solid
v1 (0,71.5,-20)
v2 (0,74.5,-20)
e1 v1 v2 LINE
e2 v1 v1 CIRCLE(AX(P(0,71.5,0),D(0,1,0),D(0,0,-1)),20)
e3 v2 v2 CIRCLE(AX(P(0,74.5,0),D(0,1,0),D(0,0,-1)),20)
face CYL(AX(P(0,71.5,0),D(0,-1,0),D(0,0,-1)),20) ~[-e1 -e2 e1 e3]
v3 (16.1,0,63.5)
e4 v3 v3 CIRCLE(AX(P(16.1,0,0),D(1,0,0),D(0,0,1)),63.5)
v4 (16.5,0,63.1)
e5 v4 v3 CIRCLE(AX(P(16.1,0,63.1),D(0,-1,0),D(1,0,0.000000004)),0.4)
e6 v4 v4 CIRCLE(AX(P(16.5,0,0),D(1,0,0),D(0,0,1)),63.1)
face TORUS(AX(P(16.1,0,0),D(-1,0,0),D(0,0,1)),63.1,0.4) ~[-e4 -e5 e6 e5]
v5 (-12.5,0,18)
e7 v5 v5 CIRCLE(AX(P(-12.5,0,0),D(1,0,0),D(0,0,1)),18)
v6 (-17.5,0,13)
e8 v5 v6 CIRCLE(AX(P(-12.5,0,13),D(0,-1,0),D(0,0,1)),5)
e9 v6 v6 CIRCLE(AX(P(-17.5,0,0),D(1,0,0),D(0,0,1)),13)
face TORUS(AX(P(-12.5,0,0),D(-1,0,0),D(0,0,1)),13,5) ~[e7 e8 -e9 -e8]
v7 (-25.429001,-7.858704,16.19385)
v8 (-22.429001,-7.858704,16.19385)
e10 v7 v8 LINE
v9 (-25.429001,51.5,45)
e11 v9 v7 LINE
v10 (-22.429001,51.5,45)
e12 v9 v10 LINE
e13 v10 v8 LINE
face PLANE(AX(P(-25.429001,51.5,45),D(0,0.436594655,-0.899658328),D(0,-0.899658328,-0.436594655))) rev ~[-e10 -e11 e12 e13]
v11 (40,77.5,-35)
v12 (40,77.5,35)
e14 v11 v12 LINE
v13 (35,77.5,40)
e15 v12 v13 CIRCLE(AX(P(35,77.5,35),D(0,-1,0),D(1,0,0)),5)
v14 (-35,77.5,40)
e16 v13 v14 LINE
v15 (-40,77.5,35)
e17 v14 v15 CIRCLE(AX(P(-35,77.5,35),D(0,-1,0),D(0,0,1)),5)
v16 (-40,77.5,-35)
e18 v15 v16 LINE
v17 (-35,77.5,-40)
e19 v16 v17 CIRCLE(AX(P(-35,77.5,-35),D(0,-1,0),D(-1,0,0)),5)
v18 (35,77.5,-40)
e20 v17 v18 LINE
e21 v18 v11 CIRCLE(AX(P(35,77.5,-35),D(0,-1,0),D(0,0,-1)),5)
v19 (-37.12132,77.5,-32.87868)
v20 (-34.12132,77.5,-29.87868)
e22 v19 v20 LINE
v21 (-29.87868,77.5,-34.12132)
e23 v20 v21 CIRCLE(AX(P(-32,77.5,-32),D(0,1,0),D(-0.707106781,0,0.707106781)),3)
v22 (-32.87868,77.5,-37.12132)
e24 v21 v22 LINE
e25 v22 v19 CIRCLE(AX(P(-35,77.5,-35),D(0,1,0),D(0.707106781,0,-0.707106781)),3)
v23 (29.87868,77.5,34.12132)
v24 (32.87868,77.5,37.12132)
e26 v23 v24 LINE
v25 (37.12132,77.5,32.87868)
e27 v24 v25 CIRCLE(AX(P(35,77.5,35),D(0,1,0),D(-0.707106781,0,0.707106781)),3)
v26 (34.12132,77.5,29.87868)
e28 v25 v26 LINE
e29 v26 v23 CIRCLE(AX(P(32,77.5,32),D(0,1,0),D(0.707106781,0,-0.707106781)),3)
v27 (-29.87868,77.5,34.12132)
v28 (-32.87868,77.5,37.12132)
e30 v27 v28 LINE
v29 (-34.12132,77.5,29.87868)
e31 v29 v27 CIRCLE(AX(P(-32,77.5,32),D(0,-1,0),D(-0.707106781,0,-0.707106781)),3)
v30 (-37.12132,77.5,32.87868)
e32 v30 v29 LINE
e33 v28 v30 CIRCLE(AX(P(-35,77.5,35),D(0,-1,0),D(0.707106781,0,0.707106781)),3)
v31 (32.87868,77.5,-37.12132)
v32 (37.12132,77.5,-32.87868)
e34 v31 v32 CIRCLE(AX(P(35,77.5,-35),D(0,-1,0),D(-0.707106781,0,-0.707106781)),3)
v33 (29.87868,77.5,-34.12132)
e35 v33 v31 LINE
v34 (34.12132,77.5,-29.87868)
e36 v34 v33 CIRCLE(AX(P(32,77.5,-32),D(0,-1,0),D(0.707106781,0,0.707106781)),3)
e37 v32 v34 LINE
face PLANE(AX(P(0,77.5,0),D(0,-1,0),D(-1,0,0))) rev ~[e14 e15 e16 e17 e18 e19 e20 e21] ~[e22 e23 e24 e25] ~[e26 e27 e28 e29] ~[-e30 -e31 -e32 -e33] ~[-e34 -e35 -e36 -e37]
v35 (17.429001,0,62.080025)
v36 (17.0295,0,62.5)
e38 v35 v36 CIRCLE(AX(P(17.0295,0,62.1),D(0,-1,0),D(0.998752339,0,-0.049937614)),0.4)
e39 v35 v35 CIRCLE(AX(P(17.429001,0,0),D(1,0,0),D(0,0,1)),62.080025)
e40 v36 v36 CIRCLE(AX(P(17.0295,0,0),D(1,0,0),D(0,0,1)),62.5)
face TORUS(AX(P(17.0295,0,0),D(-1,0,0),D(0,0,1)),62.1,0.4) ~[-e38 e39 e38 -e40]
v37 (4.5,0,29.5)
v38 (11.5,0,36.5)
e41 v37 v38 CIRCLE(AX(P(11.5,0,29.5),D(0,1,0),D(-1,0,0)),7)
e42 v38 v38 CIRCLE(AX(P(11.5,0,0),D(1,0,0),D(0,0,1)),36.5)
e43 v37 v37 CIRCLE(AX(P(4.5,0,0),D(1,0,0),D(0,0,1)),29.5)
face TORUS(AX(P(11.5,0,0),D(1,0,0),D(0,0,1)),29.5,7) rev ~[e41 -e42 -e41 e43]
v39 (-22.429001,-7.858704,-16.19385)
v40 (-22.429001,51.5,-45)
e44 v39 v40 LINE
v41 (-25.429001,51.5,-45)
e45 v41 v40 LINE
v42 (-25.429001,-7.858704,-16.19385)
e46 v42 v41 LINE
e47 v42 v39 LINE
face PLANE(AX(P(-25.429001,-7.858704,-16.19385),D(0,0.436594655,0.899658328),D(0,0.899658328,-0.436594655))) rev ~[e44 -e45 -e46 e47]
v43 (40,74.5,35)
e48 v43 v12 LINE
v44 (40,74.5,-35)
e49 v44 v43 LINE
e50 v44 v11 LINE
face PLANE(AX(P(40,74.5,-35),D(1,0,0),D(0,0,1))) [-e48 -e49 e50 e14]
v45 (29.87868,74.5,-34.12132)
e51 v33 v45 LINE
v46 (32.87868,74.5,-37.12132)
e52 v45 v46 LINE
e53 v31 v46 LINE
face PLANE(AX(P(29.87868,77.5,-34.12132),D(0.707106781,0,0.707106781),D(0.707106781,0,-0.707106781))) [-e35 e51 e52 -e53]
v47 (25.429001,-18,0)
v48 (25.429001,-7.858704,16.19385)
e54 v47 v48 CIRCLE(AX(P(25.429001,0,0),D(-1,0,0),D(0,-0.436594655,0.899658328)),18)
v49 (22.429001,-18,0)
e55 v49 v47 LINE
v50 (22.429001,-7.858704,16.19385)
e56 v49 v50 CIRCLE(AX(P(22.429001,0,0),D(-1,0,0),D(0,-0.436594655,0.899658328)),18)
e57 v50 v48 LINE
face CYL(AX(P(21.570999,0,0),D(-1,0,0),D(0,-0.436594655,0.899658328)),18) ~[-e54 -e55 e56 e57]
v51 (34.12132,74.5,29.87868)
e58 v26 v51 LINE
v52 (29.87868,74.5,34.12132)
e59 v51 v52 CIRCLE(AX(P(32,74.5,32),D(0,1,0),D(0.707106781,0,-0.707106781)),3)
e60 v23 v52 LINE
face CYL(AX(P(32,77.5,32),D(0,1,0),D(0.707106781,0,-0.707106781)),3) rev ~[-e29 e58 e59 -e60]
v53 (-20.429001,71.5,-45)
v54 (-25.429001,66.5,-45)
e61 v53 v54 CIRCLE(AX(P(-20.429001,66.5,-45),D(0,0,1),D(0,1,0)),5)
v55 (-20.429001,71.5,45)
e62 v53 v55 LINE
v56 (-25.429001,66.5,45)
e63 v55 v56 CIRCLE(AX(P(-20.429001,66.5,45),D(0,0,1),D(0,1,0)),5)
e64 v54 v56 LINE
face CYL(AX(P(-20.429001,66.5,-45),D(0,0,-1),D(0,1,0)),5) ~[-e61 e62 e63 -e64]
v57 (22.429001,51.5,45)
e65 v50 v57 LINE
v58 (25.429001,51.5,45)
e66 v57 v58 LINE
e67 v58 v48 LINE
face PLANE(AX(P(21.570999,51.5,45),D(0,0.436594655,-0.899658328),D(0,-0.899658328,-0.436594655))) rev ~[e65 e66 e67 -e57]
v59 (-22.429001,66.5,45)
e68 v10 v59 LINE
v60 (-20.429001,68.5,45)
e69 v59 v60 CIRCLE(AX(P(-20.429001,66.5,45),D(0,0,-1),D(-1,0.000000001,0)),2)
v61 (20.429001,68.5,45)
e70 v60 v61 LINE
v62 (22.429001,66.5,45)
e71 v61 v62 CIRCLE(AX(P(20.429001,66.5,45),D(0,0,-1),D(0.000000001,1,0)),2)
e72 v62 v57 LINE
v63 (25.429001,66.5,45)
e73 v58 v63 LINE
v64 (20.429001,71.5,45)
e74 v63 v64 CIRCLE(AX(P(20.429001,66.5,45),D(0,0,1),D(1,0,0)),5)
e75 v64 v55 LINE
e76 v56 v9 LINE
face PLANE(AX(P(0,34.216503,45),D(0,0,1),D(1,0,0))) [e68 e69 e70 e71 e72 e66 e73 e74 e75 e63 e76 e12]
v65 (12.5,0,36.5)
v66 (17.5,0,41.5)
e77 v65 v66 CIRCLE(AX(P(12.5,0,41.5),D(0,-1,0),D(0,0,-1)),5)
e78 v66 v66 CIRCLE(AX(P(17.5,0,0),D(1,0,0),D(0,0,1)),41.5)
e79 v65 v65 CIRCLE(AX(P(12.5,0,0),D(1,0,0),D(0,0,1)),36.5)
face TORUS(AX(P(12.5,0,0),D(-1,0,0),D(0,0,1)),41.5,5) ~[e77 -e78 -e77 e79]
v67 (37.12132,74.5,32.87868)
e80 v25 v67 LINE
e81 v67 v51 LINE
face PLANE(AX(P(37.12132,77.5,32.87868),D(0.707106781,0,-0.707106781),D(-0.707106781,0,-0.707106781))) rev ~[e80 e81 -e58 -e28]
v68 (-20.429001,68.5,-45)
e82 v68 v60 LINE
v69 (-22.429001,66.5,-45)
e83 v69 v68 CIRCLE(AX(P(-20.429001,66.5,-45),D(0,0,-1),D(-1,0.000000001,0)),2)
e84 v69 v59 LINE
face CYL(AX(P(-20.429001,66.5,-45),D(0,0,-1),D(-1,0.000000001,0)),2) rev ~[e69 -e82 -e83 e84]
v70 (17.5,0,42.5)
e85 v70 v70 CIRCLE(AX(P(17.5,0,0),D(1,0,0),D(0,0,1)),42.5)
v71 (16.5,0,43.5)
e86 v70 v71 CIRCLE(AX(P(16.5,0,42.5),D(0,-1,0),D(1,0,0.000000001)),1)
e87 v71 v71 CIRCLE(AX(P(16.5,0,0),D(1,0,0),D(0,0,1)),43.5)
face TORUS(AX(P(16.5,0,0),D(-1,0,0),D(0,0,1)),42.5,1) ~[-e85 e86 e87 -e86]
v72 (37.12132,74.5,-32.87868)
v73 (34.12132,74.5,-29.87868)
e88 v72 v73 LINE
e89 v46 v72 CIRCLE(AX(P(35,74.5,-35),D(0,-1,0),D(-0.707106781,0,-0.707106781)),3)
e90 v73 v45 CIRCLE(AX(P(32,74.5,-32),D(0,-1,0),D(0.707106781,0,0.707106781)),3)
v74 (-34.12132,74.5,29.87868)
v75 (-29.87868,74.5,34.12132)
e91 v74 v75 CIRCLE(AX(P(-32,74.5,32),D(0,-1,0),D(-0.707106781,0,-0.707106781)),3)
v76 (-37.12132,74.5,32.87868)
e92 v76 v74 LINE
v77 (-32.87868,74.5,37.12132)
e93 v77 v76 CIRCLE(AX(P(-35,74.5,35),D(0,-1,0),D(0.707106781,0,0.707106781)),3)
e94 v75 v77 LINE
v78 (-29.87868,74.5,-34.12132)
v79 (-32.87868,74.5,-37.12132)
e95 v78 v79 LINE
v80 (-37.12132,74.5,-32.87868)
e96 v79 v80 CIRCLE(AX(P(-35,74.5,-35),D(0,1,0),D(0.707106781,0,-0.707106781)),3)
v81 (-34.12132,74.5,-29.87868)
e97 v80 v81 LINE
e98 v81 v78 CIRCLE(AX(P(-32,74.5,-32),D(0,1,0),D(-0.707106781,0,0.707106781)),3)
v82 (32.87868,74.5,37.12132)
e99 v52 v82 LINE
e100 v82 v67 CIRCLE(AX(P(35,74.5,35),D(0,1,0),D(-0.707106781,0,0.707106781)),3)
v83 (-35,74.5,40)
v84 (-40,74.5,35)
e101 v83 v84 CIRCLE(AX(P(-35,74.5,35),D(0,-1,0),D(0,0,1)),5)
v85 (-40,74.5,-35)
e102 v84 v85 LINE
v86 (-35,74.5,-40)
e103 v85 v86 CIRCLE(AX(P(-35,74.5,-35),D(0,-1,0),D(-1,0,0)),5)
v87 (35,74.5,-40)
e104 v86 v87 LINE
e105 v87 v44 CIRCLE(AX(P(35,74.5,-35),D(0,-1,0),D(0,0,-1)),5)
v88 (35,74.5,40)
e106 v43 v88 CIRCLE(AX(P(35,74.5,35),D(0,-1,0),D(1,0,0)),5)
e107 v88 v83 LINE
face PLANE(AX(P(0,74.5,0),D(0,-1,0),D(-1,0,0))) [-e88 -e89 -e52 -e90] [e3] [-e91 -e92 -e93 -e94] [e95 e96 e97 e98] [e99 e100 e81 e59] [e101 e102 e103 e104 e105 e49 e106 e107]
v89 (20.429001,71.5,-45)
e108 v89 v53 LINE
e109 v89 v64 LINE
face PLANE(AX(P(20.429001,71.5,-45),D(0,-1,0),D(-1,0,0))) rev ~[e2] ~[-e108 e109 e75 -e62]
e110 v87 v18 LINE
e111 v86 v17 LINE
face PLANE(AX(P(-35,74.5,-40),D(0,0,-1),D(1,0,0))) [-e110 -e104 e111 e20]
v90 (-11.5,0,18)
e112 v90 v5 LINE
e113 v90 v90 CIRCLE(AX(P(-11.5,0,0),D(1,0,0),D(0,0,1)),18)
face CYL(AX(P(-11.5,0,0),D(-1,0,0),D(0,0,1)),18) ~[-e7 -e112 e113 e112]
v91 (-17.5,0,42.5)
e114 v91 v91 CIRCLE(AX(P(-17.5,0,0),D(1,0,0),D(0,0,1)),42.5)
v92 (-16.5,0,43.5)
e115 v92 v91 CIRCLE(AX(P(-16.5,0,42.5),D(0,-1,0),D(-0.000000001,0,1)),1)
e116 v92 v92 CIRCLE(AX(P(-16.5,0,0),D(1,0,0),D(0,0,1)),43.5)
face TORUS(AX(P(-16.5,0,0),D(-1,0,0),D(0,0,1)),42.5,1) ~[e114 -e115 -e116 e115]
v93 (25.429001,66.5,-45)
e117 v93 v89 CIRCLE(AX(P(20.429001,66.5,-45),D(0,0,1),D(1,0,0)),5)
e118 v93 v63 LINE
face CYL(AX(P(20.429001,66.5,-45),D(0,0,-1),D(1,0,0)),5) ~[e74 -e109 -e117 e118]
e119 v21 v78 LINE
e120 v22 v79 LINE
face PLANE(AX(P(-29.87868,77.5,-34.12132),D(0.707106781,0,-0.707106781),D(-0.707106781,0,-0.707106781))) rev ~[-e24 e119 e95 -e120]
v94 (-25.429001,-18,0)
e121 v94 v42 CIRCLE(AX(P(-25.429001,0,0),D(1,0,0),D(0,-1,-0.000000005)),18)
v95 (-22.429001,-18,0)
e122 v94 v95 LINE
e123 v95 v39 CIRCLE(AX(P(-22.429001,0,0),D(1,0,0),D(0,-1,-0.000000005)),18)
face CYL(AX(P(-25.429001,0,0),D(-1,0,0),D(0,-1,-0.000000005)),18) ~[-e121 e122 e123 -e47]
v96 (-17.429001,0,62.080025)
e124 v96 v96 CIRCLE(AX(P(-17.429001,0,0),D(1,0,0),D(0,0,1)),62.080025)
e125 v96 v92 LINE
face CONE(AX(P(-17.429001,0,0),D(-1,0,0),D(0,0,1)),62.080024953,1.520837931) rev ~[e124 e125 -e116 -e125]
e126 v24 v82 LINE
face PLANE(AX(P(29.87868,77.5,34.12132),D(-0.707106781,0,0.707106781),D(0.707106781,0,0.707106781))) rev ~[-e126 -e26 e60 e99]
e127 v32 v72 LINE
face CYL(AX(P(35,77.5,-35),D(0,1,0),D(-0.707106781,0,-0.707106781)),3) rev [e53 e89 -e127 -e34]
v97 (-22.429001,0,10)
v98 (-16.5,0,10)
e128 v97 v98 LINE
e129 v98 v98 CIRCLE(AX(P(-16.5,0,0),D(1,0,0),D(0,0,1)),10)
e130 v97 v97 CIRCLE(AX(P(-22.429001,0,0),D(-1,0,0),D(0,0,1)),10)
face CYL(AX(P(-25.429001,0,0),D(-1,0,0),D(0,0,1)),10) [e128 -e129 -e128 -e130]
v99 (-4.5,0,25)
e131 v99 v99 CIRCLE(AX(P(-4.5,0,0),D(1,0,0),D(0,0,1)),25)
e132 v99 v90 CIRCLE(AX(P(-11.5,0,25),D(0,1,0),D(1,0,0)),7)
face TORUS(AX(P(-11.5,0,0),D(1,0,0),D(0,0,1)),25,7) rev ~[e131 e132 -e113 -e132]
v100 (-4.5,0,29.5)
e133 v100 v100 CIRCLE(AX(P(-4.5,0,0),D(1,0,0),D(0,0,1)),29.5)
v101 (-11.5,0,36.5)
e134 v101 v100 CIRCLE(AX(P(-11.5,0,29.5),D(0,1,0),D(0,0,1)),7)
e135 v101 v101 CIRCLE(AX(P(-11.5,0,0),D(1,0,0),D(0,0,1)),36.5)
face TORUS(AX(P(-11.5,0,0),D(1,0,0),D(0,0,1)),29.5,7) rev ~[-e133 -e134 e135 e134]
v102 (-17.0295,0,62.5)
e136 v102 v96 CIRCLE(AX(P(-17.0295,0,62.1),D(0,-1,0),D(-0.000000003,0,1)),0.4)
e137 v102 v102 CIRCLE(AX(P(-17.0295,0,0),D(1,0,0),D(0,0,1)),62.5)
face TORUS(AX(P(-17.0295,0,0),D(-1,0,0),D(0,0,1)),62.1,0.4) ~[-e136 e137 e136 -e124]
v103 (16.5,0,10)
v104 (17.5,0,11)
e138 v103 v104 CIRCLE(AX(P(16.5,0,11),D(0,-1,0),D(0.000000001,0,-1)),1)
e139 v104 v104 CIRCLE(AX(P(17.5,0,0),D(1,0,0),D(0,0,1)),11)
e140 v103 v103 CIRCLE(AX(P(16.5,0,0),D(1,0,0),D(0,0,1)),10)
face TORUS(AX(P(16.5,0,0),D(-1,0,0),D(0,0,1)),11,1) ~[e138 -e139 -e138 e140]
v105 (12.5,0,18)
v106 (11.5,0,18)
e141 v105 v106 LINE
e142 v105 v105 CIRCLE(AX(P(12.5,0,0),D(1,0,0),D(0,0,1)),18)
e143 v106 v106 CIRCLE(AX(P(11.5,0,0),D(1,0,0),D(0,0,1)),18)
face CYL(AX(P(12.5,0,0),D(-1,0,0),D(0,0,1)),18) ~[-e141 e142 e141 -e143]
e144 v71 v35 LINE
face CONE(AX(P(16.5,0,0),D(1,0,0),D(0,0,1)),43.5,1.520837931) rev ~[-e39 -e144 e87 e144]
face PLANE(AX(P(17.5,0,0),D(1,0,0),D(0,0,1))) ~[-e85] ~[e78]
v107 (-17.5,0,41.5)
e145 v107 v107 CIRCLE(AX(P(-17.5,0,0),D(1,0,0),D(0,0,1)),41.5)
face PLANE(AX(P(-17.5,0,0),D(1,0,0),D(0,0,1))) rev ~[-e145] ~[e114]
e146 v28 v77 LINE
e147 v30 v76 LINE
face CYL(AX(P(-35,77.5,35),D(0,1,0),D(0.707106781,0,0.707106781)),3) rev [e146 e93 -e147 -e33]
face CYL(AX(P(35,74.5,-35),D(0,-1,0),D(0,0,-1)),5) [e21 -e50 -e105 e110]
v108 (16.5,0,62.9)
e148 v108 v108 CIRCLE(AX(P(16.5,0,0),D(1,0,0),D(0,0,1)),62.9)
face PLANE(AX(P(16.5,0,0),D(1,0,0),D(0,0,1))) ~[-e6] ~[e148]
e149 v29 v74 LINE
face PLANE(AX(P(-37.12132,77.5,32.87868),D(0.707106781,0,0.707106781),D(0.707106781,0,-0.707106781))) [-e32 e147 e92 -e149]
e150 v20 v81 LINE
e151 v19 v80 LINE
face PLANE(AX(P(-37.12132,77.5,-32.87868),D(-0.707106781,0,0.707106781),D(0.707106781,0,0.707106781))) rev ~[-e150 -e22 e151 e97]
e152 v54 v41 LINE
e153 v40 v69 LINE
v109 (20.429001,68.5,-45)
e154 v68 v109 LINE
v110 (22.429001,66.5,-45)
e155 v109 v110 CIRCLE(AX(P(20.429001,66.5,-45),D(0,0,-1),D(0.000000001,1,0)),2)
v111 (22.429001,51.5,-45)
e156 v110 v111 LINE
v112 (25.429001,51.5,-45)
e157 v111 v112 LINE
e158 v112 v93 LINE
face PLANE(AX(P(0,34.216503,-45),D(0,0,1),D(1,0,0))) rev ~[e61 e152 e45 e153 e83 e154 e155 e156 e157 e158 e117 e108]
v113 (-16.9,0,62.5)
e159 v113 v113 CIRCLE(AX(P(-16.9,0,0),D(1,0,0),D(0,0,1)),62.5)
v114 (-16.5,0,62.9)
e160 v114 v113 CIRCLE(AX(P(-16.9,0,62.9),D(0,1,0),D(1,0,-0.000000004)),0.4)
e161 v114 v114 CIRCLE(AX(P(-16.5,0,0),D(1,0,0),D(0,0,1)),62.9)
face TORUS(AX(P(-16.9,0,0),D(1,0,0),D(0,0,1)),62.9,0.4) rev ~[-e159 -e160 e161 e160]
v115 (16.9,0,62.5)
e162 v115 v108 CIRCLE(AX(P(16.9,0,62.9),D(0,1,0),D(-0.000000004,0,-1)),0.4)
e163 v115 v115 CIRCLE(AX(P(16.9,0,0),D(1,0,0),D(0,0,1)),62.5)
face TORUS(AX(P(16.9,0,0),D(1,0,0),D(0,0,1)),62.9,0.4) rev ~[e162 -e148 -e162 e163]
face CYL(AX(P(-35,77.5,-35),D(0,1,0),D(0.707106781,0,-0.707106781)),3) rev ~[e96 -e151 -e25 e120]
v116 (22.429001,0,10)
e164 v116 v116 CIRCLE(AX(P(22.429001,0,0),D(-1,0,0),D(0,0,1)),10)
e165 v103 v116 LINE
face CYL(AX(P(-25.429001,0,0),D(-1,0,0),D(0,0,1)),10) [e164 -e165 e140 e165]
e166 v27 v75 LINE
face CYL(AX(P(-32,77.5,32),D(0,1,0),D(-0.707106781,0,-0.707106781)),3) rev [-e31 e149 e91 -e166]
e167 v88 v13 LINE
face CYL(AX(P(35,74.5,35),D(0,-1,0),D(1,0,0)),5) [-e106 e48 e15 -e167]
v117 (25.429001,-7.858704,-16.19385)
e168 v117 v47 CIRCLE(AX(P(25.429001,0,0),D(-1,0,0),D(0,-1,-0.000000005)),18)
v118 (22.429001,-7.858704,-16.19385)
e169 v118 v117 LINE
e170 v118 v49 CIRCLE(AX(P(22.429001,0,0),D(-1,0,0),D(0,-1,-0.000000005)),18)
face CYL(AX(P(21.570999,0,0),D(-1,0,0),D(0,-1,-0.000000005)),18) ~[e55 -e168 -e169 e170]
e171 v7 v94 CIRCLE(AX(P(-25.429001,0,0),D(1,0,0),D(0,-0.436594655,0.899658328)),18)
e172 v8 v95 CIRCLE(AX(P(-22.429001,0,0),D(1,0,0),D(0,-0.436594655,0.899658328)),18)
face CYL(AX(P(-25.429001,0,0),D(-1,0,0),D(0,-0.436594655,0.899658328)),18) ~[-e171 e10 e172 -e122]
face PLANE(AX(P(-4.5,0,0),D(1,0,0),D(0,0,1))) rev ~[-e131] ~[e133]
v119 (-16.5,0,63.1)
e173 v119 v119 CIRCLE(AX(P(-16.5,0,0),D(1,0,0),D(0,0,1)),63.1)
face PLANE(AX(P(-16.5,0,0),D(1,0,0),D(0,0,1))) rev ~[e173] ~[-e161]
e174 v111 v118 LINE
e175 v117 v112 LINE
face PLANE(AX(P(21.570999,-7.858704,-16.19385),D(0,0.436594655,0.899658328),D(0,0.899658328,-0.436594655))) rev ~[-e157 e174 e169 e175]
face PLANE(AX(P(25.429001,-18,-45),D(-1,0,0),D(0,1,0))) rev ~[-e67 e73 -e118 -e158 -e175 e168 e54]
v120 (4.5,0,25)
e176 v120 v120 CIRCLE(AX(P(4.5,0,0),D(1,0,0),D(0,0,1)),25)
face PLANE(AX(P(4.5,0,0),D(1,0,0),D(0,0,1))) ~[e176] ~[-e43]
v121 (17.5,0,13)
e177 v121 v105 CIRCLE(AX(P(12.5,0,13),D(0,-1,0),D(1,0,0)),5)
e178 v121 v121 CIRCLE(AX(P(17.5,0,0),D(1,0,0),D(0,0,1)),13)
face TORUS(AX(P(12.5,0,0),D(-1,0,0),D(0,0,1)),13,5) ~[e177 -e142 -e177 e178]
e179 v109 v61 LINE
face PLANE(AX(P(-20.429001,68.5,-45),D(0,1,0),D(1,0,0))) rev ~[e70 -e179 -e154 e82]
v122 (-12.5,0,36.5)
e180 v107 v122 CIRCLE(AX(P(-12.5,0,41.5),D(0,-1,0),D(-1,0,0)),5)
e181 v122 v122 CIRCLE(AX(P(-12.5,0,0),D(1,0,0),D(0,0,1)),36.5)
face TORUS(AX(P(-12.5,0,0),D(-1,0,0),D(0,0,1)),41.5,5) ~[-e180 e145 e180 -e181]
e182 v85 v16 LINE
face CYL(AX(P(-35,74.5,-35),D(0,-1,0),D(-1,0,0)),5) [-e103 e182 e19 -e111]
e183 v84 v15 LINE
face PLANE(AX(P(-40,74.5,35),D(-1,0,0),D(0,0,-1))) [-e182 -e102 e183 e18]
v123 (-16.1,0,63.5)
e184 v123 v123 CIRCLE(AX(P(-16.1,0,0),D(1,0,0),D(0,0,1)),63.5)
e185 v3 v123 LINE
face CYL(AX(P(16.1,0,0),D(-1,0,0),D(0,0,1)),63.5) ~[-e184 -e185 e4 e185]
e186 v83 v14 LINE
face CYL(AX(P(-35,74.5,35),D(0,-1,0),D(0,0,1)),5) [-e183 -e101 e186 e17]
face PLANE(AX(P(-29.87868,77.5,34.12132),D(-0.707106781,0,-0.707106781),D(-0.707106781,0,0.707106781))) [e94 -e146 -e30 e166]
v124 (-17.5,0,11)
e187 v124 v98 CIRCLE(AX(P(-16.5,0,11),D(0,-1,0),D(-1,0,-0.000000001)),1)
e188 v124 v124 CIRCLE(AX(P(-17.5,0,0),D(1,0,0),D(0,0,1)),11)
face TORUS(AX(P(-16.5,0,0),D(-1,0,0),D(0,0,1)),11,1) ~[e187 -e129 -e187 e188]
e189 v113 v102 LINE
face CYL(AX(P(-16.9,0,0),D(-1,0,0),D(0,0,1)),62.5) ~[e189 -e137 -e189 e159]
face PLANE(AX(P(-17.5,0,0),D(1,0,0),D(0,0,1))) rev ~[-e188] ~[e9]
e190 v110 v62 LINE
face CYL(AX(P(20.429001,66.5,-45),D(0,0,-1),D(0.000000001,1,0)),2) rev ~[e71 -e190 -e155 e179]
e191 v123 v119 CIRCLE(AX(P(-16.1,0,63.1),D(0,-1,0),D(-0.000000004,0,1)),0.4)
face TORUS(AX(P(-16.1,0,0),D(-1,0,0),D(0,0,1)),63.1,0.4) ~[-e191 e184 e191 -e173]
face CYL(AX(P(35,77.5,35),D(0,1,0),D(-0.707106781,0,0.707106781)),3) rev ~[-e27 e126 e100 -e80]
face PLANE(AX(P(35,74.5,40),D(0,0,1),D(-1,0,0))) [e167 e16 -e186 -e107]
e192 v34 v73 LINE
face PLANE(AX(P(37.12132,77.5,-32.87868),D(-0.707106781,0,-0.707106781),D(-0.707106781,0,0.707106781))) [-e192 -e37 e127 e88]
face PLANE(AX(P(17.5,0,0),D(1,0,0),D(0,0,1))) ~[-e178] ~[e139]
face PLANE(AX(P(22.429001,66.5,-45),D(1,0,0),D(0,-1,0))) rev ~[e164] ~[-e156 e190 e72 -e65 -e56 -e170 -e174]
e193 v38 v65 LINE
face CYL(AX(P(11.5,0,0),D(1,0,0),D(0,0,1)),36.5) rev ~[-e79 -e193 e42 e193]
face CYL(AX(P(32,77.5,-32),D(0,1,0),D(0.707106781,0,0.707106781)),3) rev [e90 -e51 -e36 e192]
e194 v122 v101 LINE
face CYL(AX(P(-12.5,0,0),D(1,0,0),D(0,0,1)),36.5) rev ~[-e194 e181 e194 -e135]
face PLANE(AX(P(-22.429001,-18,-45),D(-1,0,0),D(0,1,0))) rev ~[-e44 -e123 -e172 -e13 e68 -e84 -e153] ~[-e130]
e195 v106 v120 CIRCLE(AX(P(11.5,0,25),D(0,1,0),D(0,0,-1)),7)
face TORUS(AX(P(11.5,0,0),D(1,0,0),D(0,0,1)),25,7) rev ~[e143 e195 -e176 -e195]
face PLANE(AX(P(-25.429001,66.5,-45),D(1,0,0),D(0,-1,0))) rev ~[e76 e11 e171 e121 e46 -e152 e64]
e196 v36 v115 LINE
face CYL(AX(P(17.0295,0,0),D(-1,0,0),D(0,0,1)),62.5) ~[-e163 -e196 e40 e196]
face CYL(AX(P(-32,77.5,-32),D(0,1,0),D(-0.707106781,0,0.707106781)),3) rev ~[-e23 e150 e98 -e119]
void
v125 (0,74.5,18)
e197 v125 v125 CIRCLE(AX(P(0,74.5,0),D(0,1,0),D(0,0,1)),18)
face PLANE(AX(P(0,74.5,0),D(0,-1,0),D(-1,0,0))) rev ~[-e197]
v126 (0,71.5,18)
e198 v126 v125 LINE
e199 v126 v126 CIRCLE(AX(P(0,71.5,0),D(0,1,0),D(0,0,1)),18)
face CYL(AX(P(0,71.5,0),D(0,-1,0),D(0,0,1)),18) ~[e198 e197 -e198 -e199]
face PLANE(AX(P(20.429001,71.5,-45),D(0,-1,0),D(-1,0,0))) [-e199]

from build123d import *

# Parameters (mm, degrees)
BOSS_EXTRUDE2_START = -45
BOSS_EXTRUDE2_DEPTH = 90
CUT_EXTRUDE1_DEPTH  = 3
CUT_EXTRUDE2_START  = -47
CUT_EXTRUDE2_DEPTH  = 62.30990914
BOSS_EXTRUDE3_REACH = 110.31
SKETCH7_R           = 10
SKETCH8_R           = 20
SKETCH8_R_2         = 18
BOSS_EXTRUDE4_DEPTH = 3
BOSS_EXTRUDE5_DEPTH = 3
CUT_EXTRUDE3_DEPTH  = 3


with BuildPart() as part:
    # Sketch1 → Revolve1 (revolve)
    with BuildSketch(Plane.XY):
        with BuildLine():
            ThreePointArc((-17.5, 11), (-17.207106781, 10.292893219), (-16.5, 10))
            Line((-16.5, 10), (16.5, 10))
            ThreePointArc((16.5, 10), (17.207106781, 10.292893219), (17.5, 11))
            Line((17.5, 11), (17.5, 13))
            ThreePointArc((17.5, 13), (16.035533906, 16.535533906), (12.5, 18))
            Line((12.5, 18), (11.5, 18))
            ThreePointArc((11.5, 18), (6.550252532, 20.050252532), (4.5, 25))
            Line((4.5, 25), (4.5, 29.5))
            ThreePointArc((4.5, 29.5), (6.550252532, 34.449747468), (11.5, 36.5))
            Line((11.5, 36.5), (12.5, 36.5))
            ThreePointArc((12.5, 36.5), (16.035533906, 37.964466094), (17.5, 41.5))
            Line((17.5, 41.5), (17.5, 42.5))
            ThreePointArc((17.5, 42.5), (17.207106781, 43.207106781), (16.5, 43.5))
            Line((16.5, 43.5), (-16.5, 43.5))
            ThreePointArc((-16.5, 43.5), (-17.207106781, 43.207106781), (-17.5, 42.5))
            Line((-17.5, 42.5), (-17.5, 41.5))
            ThreePointArc((-17.5, 41.5), (-16.035533906, 37.964466094), (-12.5, 36.5))
            Line((-12.5, 36.5), (-11.5, 36.5))
            ThreePointArc((-11.5, 36.5), (-6.550252532, 34.449747468), (-4.5, 29.5))
            Line((-4.5, 29.5), (-4.5, 25))
            ThreePointArc((-4.5, 25), (-6.550252532, 20.050252532), (-11.5, 18))
            Line((-11.5, 18), (-12.5, 18))
            ThreePointArc((-12.5, 18), (-16.035533906, 16.535533906), (-17.5, 13))
            Line((-17.5, 13), (-17.5, 11))
        make_face()
    revolve(axis=Axis((-25.77893442, 0, 0), (1, 0, 0)))

    # Sketch2 → Revolve3 (revolve)
    with BuildSketch(Plane.XY):
        with BuildLine():
            Line((-17.429001248, 62.080024953), (-16.5, 43.5))
            Line((-16.5, 43.5), (16.5, 43.5))
            Line((16.5, 43.5), (17.429001248, 62.080024953))
            ThreePointArc((17.429001248, 62.080024953), (17.319319237, 62.375690026), (17.029500312, 62.5))
            Line((17.029500312, 62.5), (16.9, 62.5))
            ThreePointArc((16.9, 62.5), (16.617157288, 62.617157288), (16.5, 62.9))
            Line((16.5, 62.9), (16.5, 63.1))
            ThreePointArc((16.5, 63.1), (16.382842712, 63.382842712), (16.1, 63.5))
            Line((16.1, 63.5), (-16.1, 63.5))
            ThreePointArc((-16.1, 63.5), (-16.382842712, 63.382842712), (-16.5, 63.1))
            Line((-16.5, 63.1), (-16.5, 62.9))
            ThreePointArc((-16.5, 62.9), (-16.617157288, 62.617157288), (-16.9, 62.5))
            Line((-16.9, 62.5), (-17.029500312, 62.5))
            ThreePointArc((-17.029500312, 62.5), (-17.319319237, 62.375690026), (-17.429001248, 62.080024953))
        make_face()
    revolve(axis=Axis((-24.991695295, 0, 0), (1, 0, 0)))


with BuildPart() as body_2:
    # Sketch5 → Boss-Extrude2 (new body)
    with BuildSketch(Plane.XY.offset(BOSS_EXTRUDE2_START)):
        with BuildLine():
            Line((22.429001248, -18), (25.429001248, -18))
            Line((25.429001248, -18), (25.429001248, 66.5))
            ThreePointArc((25.429001248, 66.5), (23.964535154, 70.035533906), (20.429001248, 71.5))
            Line((20.429001248, 71.5), (-20.429001248, 71.5))
            ThreePointArc((-20.429001248, 71.5), (-23.964535154, 70.035533906), (-25.429001248, 66.5))
            Line((-25.429001248, 66.5), (-25.429001248, -18))
            Line((-25.429001248, -18), (-22.429001248, -18))
            Line((-22.429001248, -18), (-22.429001248, -15))
            Line((-22.429001248, -15), (-22.429001248, 66.5))
            ThreePointArc((-22.429001248, 66.5), (-21.84321481, 67.914213562), (-20.429001248, 68.5))
            Line((-20.429001248, 68.5), (20.429001248, 68.5))
            ThreePointArc((20.429001248, 68.5), (21.84321481, 67.914213562), (22.429001248, 66.5))
            Line((22.429001248, 66.5), (22.429001248, -15))
            Line((22.429001248, -15), (22.429001248, -18))
        make_face()
    extrude(amount=BOSS_EXTRUDE2_DEPTH)

    # Sketch6 → Cut-Extrude1 (cut)
    with BuildSketch(Plane.ZY.offset(25.429001248)):
        with BuildLine():
            ThreePointArc((16.193849901, -7.858703797), (9.553620523, -15.255436241), (-8.9e-08, -18))
            Line((-8.9e-08, -18), (45, -18))
            Line((45, -18), (45, 51.5))
            Line((45, 51.5), (16.193849901, -7.858703797))
        make_face()
        with BuildLine():
            Line((-16.193849901, -7.858703797), (-45, 51.5))
            Line((-45, 51.5), (-45, -18))
            Line((-45, -18), (-8.9e-08, -18))
            ThreePointArc((-8.9e-08, -18), (-9.553620599, -15.255436194), (-16.193849901, -7.858703797))
        make_face()
    extrude(amount=-CUT_EXTRUDE1_DEPTH, mode=Mode.SUBTRACT)

    # Sketch6<3> → Cut-Extrude2 (cut, through all)
    with BuildSketch(Plane.ZY.offset(25.429001248).offset(CUT_EXTRUDE2_START)):
        with BuildLine():
            ThreePointArc((16.193849901, -7.858703797), (9.553620523, -15.255436241), (-8.9e-08, -18))
            Line((-8.9e-08, -18), (45, -18))
            Line((45, -18), (45, 51.5))
            Line((45, 51.5), (16.193849901, -7.858703797))
        make_face()
        with BuildLine():
            Line((-16.193849901, -7.858703797), (-45, 51.5))
            Line((-45, 51.5), (-45, -18))
            Line((-45, -18), (-8.9e-08, -18))
            ThreePointArc((-8.9e-08, -18), (-9.553620599, -15.255436194), (-16.193849901, -7.858703797))
        make_face()
    extrude(amount=-CUT_EXTRUDE2_DEPTH, mode=Mode.SUBTRACT)

    # Sketch7 → Boss-Extrude3 (add, up to next)
    with BuildSketch(Plane.ZY.offset(25.429001248), mode=Mode.PRIVATE) as boss_extrude3_sk1:
        Circle(SKETCH7_R)
    boss_extrude3_tool1 = extrude(boss_extrude3_sk1.sketch, amount=-BOSS_EXTRUDE3_REACH, mode=Mode.PRIVATE) - body_2.part

    add(part.part)  # Boss-Extrude3 merges part
    add(boss_extrude3_tool1.solids().sort_by_distance((-25.429001, 0, 0))[0])

    # Sketch8 → Boss-Extrude4 (add)
    with BuildSketch(Plane(origin=(0, 71.5, 0), x_dir=(1, 0, 0), z_dir=(0, 1, 0))):
        Circle(SKETCH8_R)
        Circle(SKETCH8_R_2, mode=Mode.SUBTRACT)
    extrude(amount=BOSS_EXTRUDE4_DEPTH)

    # Sketch9 → Boss-Extrude5 (add)
    with BuildSketch(Plane(origin=(0, 74.5, 0), x_dir=(1, 0, 0), z_dir=(0, 1, 0))):
        with BuildLine():
            Line((-35, 40), (35, 40))
            ThreePointArc((35, 40), (38.535533906, 38.535533906), (40, 35))
            Line((40, 35), (40, -35))
            ThreePointArc((40, -35), (38.535533906, -38.535533906), (35, -40))
            Line((35, -40), (-35, -40))
            ThreePointArc((-35, -40), (-38.535533906, -38.535533906), (-40, -35))
            Line((-40, -35), (-40, 35))
            ThreePointArc((-40, 35), (-38.535533906, 38.535533906), (-35, 40))
        make_face()
    extrude(amount=BOSS_EXTRUDE5_DEPTH)

    # Sketch10 → Cut-Extrude3 (cut)
    with BuildSketch(Plane(origin=(0, 77.5, 0), x_dir=(1, 0, 0), z_dir=(0, 1, 0))):
        with BuildLine():
            Line((-37.121320344, 32.878679656), (-34.121320344, 29.878679656))
            ThreePointArc((-34.121320344, 29.878679656), (-29.878679656, 29.878679656), (-29.878679656, 34.121320344))
            Line((-29.878679656, 34.121320344), (-32.878679656, 37.121320344))
            ThreePointArc((-32.878679656, 37.121320344), (-37.121320344, 37.121320344), (-37.121320344, 32.878679656))
        make_face()
        with BuildLine():
            Line((29.878679656, 34.121320344), (32.878679656, 37.121320344))
            ThreePointArc((32.878679656, 37.121320344), (37.121320344, 37.121320344), (37.121320344, 32.878679656))
            Line((37.121320344, 32.878679656), (34.121320344, 29.878679656))
            ThreePointArc((34.121320344, 29.878679656), (29.878679656, 29.878679656), (29.878679656, 34.121320344))
        make_face()
        with BuildLine():
            Line((37.121320344, -32.878679656), (34.121320344, -29.878679656))
            ThreePointArc((34.121320344, -29.878679656), (29.878679656, -29.878679656), (29.878679656, -34.121320344))
            Line((29.878679656, -34.121320344), (32.878679656, -37.121320344))
            ThreePointArc((32.878679656, -37.121320344), (37.121320344, -37.121320344), (37.121320344, -32.878679656))
        make_face()
        with BuildLine():
            Line((-29.878679656, -34.121320344), (-32.878679656, -37.121320344))
            ThreePointArc((-32.878679656, -37.121320344), (-37.121320344, -37.121320344), (-37.121320344, -32.878679656))
            Line((-37.121320344, -32.878679656), (-34.121320344, -29.878679656))
            ThreePointArc((-34.121320344, -29.878679656), (-29.878679656, -29.878679656), (-29.878679656, -34.121320344))
        make_face()
    extrude(amount=-CUT_EXTRUDE3_DEPTH, mode=Mode.SUBTRACT)


solid = body_2.part
